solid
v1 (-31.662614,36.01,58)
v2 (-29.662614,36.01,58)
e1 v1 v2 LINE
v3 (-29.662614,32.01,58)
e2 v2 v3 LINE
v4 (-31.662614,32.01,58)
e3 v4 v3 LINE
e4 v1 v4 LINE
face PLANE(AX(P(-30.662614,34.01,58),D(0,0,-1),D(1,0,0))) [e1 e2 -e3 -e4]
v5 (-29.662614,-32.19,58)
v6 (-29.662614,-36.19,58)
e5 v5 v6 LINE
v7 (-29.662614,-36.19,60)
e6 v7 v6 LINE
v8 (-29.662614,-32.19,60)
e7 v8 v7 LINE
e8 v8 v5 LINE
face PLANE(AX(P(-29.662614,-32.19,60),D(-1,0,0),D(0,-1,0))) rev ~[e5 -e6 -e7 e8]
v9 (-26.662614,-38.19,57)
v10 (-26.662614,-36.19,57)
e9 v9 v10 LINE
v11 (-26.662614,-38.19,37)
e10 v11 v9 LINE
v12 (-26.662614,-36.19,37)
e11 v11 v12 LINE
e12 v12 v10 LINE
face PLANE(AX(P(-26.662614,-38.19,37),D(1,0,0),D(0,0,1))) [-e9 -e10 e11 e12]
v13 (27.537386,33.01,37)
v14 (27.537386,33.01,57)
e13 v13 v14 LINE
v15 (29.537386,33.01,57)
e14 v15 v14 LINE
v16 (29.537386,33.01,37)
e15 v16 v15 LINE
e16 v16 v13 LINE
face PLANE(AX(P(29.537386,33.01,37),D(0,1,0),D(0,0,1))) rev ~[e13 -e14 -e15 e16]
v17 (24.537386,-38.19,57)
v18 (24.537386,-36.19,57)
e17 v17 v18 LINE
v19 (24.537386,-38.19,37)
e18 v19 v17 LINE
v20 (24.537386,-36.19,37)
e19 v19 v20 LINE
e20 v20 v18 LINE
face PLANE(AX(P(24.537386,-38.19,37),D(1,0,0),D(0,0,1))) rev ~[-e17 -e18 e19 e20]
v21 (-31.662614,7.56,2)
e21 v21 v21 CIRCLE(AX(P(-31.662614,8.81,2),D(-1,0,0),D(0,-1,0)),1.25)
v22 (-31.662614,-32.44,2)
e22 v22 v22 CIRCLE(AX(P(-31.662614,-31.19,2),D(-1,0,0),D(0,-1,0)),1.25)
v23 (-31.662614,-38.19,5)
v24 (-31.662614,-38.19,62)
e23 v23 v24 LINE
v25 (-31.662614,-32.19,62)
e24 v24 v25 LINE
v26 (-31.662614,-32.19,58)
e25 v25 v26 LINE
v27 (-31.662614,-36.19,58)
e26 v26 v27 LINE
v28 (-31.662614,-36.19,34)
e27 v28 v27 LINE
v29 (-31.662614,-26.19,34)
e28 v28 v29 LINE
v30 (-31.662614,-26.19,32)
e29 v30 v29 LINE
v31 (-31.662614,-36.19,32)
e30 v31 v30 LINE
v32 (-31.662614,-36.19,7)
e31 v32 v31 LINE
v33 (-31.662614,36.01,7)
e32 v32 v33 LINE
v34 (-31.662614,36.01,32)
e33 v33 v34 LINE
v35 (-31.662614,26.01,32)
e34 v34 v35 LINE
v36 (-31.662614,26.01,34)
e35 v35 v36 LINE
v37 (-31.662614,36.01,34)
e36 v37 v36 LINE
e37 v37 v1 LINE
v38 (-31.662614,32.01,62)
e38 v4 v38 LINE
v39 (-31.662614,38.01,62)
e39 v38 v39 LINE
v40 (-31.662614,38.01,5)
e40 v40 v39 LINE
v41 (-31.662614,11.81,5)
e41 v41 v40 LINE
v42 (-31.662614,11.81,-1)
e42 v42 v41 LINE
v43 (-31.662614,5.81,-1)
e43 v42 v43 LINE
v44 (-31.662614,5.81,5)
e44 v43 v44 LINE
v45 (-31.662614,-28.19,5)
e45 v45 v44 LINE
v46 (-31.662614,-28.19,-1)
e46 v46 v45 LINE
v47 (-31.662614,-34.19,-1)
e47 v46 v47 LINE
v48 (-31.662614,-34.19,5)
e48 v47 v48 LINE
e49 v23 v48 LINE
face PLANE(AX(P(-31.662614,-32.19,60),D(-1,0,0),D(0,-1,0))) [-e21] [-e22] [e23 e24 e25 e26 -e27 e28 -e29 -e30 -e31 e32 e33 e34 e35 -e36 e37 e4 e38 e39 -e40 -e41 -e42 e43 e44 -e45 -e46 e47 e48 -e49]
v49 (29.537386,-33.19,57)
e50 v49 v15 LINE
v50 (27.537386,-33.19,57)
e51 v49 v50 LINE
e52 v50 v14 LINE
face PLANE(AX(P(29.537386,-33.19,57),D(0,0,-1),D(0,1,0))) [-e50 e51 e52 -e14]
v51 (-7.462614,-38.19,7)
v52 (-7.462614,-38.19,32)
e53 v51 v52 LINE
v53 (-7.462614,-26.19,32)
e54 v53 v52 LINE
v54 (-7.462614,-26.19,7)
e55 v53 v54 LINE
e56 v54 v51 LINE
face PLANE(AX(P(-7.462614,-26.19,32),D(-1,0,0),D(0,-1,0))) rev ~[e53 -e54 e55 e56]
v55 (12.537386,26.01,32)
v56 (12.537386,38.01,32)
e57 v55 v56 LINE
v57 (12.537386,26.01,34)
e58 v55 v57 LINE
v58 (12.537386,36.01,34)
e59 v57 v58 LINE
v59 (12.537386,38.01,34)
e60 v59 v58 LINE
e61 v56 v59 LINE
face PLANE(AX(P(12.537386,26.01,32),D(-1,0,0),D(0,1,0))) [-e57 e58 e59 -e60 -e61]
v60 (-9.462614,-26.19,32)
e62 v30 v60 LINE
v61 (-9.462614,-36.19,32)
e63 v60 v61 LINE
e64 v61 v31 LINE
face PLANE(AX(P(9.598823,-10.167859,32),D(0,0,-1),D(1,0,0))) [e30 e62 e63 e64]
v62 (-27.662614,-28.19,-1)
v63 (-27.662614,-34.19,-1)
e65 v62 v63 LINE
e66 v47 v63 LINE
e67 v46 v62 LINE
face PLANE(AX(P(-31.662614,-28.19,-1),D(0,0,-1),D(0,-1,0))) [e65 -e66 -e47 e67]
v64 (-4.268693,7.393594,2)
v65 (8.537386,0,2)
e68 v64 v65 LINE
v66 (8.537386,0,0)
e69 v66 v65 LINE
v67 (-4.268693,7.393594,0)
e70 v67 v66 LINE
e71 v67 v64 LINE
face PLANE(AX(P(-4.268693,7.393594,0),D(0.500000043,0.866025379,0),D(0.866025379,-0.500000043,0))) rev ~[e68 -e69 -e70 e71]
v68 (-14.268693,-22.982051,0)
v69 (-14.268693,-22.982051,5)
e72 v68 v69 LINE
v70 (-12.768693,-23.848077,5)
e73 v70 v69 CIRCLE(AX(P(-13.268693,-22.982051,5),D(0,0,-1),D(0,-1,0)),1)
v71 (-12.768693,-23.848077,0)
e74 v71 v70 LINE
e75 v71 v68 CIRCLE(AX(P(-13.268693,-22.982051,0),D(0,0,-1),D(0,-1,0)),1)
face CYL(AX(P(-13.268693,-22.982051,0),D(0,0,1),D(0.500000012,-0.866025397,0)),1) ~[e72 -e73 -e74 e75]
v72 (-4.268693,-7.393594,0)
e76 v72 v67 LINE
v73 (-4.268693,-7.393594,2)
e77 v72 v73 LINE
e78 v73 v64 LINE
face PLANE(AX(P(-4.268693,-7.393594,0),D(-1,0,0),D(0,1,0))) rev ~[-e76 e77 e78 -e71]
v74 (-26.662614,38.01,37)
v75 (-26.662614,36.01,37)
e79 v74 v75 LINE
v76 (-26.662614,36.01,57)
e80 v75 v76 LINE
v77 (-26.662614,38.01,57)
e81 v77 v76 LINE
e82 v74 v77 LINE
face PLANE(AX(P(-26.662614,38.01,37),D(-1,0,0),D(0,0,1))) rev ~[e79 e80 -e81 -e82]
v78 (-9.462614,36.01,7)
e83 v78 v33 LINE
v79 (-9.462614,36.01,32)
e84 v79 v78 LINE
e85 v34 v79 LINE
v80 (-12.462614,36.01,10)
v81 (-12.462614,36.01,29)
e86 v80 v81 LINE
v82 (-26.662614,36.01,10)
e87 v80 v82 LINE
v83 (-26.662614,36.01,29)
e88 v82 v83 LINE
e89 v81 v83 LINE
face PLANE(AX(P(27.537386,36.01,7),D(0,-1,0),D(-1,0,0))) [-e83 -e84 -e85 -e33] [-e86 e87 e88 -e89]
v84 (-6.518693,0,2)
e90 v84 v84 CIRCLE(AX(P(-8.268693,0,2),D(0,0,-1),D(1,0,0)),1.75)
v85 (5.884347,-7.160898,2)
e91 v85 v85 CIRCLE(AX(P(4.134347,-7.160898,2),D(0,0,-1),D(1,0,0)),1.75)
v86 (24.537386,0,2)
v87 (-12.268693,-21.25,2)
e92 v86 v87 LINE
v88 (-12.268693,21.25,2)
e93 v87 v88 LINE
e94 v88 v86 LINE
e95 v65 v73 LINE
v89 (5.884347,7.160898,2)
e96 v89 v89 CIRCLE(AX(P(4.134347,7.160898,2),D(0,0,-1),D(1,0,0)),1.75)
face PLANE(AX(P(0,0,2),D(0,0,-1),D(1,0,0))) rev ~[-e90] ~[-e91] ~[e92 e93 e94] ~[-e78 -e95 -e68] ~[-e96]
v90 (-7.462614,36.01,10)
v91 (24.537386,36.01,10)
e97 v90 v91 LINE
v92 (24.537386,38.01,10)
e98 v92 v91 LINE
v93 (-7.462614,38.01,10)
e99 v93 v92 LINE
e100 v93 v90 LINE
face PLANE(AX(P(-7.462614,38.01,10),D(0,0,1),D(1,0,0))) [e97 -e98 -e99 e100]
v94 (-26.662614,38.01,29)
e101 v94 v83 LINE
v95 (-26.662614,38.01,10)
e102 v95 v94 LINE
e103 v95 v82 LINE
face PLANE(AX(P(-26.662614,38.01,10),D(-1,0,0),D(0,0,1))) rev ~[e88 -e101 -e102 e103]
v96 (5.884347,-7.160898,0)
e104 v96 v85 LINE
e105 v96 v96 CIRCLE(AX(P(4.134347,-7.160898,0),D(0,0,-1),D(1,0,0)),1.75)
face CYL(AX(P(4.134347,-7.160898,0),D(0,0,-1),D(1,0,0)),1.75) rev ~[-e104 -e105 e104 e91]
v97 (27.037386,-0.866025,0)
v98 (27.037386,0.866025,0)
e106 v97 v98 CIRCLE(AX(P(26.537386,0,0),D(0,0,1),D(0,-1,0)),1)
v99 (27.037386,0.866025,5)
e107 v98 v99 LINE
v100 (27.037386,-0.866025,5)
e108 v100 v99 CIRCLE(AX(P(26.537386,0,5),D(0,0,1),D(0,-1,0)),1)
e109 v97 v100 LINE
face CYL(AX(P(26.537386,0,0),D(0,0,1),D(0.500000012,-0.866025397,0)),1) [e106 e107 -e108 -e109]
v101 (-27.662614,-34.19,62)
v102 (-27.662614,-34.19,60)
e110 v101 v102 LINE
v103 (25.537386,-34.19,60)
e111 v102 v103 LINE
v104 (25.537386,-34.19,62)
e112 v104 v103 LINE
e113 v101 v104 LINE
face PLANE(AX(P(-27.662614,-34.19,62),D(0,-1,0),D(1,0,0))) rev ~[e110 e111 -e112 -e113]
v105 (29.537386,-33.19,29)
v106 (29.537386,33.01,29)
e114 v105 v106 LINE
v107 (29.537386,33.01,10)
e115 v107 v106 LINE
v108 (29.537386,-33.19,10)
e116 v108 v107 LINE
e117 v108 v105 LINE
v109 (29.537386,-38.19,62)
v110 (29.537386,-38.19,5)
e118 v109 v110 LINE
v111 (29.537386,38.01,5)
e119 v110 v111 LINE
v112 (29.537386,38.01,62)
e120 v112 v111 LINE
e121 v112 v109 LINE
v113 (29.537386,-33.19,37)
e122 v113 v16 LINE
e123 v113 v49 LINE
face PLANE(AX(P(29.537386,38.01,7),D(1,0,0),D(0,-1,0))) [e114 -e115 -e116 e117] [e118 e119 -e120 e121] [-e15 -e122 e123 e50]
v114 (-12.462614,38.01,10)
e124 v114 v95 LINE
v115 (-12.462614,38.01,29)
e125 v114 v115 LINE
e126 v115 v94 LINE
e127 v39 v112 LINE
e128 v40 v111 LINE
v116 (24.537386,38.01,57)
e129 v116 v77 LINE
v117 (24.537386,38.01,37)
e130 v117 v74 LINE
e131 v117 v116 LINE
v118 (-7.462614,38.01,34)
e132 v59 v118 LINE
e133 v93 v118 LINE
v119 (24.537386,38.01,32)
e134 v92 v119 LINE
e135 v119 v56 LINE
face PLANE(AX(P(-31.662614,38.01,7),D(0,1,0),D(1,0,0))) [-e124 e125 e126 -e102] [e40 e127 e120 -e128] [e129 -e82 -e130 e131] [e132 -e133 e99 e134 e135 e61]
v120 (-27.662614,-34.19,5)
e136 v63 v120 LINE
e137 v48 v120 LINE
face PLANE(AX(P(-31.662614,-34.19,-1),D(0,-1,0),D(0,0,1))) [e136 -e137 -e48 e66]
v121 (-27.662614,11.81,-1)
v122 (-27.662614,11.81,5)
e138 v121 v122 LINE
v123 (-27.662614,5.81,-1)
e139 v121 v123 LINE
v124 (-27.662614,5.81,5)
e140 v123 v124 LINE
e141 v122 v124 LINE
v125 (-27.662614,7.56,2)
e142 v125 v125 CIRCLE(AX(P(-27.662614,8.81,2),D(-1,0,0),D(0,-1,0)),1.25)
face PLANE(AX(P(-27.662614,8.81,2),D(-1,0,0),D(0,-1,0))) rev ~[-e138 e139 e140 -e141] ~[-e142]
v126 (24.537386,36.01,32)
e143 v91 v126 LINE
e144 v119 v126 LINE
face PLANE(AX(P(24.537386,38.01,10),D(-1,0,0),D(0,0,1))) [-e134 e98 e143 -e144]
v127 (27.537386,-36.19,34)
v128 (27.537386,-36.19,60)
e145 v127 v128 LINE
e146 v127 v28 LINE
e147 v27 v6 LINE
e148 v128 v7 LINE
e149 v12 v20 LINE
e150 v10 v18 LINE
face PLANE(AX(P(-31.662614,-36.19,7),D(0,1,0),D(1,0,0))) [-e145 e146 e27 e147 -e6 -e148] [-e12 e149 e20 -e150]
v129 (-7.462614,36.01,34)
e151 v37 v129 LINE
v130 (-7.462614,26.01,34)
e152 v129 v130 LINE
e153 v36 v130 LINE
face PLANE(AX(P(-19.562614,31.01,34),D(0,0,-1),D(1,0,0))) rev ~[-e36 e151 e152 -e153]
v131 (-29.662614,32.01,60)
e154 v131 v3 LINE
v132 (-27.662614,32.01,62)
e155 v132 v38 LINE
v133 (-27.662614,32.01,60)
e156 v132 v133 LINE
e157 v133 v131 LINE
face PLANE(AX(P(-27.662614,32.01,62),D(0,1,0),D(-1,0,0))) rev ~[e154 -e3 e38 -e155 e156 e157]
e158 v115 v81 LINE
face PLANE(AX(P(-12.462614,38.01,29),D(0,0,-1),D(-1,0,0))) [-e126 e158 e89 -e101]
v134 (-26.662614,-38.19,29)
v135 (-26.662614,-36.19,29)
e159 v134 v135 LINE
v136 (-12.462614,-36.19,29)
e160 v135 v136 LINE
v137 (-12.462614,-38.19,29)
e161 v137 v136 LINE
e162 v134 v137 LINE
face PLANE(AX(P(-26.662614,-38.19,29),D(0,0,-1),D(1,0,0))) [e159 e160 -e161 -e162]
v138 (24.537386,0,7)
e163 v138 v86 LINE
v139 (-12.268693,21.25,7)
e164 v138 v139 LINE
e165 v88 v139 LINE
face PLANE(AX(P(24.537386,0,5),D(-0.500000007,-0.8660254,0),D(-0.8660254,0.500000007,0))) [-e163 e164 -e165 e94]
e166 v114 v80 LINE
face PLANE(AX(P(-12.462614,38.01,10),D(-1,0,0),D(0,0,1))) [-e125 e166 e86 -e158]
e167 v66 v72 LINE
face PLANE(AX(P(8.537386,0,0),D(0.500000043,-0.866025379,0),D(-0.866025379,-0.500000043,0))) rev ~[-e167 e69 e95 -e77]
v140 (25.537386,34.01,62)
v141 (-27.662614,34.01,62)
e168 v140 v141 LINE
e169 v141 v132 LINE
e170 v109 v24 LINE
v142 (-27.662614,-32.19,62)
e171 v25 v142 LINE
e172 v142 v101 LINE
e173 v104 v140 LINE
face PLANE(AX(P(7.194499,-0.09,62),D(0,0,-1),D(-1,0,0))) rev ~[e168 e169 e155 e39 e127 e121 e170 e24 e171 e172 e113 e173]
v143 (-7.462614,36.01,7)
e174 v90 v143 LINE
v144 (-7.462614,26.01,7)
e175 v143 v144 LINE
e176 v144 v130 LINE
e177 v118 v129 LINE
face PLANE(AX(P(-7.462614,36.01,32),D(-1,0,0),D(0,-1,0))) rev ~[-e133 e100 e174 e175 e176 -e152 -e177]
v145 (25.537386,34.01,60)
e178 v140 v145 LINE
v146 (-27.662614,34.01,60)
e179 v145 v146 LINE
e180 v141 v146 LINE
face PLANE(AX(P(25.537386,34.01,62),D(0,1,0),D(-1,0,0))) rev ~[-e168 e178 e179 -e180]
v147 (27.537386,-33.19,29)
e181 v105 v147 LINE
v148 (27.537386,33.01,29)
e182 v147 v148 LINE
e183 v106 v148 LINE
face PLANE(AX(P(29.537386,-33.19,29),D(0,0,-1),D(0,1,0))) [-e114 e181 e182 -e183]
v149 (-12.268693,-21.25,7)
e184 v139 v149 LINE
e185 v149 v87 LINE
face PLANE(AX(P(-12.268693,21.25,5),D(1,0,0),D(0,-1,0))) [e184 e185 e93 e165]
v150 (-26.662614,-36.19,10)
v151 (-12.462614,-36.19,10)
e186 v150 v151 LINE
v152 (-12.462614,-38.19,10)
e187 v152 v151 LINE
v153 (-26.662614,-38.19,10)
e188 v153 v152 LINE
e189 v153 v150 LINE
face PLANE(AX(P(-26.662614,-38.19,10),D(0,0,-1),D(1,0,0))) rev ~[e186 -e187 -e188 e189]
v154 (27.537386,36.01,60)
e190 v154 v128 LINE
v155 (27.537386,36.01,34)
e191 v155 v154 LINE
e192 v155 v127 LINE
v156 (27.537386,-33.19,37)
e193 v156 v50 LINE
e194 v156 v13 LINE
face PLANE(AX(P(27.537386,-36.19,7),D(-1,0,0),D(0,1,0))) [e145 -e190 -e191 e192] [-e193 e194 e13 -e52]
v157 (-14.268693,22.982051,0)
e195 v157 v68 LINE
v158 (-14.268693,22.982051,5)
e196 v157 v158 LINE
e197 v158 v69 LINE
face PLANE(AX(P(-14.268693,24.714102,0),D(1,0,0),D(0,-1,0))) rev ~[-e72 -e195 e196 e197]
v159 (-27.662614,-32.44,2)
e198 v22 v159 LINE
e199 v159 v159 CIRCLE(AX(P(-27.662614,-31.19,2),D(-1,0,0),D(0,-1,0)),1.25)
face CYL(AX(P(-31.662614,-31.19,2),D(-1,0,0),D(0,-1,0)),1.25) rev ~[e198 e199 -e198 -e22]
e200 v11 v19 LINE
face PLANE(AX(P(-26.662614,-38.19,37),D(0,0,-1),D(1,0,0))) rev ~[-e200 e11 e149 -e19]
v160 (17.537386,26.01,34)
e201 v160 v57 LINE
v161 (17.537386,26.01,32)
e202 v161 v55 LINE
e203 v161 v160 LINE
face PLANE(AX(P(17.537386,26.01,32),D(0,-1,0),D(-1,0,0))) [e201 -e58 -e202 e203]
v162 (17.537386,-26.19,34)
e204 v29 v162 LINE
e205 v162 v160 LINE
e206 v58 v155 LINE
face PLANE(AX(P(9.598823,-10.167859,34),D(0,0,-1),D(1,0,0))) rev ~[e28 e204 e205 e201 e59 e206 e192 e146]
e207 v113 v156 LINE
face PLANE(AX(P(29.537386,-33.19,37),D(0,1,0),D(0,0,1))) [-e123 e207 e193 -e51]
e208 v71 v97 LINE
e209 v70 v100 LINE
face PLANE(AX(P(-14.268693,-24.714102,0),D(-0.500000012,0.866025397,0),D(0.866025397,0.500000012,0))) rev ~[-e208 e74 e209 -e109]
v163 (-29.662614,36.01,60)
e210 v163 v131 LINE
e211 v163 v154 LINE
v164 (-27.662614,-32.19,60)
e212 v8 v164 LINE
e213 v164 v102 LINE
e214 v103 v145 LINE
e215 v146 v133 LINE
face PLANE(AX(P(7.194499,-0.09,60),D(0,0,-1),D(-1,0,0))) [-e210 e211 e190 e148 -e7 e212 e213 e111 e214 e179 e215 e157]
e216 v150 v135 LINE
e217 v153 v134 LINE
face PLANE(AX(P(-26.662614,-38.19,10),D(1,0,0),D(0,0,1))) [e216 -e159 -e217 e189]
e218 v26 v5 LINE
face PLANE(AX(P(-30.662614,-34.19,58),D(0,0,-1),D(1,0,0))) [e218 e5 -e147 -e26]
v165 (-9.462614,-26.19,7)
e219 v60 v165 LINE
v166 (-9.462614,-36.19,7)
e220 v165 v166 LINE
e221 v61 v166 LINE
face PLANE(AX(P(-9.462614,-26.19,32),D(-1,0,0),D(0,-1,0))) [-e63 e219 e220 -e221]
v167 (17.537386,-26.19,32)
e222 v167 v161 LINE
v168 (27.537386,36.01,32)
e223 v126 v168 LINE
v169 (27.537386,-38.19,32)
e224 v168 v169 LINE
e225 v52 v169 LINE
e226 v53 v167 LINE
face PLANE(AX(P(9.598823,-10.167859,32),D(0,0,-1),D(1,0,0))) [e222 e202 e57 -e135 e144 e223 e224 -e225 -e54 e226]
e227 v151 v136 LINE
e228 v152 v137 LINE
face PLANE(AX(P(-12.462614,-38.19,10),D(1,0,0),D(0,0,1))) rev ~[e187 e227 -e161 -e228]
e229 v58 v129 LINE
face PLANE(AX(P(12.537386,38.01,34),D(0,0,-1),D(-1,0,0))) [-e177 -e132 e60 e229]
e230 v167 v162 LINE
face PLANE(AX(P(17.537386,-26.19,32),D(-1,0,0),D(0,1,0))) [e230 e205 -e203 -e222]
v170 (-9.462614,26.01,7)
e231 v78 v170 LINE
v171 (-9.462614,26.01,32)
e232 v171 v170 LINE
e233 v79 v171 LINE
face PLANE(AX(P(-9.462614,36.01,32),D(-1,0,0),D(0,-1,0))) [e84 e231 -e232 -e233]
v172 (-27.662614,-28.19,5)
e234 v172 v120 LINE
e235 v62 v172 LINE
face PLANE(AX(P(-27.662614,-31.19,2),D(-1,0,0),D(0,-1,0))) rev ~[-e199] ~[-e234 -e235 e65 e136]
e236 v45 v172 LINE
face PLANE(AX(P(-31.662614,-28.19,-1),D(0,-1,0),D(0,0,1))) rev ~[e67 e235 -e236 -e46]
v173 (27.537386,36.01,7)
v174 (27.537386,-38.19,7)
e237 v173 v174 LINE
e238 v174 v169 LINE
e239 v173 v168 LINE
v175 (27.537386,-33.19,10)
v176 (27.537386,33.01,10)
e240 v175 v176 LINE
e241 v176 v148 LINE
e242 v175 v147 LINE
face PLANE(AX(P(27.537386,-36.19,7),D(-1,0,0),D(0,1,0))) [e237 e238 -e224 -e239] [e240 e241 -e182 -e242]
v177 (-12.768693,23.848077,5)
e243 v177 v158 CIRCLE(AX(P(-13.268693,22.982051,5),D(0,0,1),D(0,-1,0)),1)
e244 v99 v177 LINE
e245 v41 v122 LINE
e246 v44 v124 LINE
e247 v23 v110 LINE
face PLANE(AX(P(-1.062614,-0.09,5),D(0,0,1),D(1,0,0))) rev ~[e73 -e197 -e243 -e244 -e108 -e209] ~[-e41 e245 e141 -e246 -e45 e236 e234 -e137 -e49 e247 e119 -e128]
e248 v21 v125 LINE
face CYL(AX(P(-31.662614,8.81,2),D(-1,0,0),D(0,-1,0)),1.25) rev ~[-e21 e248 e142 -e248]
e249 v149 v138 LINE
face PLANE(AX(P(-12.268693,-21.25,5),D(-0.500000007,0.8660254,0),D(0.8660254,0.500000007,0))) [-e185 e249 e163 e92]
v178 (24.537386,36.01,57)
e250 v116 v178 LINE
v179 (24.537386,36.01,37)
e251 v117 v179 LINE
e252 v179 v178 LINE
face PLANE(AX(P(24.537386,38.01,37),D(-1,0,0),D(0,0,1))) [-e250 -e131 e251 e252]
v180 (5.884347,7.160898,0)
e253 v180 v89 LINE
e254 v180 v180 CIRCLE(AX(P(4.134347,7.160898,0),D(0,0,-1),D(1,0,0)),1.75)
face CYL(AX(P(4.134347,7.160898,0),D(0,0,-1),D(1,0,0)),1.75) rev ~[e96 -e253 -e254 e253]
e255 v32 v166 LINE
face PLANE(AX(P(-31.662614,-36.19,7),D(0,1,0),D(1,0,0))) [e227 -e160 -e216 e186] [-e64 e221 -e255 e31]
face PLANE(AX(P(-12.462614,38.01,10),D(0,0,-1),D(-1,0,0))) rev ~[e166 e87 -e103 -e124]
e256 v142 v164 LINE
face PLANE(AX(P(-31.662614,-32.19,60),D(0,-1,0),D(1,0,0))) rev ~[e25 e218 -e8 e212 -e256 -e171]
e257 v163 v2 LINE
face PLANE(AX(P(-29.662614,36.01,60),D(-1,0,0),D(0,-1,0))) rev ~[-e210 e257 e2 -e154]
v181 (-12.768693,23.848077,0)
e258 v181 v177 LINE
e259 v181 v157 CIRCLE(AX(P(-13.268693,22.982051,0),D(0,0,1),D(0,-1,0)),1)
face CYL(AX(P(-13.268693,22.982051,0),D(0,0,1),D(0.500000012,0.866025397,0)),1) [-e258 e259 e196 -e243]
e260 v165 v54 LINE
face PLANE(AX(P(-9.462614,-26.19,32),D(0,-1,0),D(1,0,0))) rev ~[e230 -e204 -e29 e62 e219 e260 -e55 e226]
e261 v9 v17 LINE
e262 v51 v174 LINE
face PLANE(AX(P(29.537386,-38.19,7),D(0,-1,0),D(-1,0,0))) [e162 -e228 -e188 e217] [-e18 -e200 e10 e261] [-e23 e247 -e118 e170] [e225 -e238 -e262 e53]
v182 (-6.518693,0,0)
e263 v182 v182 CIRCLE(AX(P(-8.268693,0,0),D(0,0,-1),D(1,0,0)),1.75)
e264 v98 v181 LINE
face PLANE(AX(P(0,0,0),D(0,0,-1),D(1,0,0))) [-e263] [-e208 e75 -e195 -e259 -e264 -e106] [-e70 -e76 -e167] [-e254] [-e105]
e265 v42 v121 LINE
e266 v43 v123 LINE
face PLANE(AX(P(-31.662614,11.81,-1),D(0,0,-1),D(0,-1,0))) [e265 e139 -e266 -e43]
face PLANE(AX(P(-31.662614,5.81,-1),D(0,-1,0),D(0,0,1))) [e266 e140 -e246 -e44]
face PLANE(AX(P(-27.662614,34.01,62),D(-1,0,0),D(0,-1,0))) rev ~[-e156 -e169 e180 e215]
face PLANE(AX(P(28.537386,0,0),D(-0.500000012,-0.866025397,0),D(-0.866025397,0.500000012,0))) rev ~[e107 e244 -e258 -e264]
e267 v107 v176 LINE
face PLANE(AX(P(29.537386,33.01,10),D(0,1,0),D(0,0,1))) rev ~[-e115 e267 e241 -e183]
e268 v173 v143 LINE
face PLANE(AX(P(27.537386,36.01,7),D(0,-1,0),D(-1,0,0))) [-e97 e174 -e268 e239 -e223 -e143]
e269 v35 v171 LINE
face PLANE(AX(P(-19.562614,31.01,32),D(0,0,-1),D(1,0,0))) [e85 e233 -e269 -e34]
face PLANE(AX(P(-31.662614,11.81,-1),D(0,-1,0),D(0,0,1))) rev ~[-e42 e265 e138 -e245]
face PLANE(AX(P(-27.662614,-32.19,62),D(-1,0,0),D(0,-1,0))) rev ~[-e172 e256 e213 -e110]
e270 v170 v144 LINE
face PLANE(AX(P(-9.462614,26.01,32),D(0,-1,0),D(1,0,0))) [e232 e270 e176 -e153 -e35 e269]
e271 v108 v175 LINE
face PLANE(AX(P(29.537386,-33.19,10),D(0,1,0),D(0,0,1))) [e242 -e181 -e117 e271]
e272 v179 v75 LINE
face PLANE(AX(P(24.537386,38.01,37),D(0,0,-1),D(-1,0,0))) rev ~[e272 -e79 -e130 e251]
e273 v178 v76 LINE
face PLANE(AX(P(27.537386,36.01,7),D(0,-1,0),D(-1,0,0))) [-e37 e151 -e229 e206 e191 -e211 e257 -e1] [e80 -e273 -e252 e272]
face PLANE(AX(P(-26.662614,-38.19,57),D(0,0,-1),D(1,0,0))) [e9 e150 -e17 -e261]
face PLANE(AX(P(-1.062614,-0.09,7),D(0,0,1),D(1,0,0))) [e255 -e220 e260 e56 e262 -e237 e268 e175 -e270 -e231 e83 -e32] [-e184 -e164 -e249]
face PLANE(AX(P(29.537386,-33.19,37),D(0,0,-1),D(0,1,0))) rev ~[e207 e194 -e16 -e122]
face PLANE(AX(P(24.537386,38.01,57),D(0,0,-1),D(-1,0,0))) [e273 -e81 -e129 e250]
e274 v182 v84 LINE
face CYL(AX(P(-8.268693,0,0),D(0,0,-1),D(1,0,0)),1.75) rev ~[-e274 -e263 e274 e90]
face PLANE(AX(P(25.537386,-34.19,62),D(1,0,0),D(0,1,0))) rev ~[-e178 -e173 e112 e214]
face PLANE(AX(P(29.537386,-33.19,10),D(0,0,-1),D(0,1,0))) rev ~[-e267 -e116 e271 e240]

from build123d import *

# Parameters (mm, degrees)
PAD_DEPTH       = 5
FILLET_R        = 1
FILLET001_R     = 1
FILLET002_R     = 1
SKETCH001_R     = 1.75
PAD001_DEPTH    = 2
SKETCH002_W     = 61.2
SKETCH002_H     = 76.2
PAD002_DEPTH    = 2
PAD003_DEPTH    = 55
SKETCH004_W     = 35
SKETCH004_H     = 25
SKETCH004_W_2   = 14.2
SKETCH004_H_2   = 19
SKETCH004_W_3   = 51.2
SKETCH004_H_3   = 20
POCKET_DEPTH    = 2
SKETCH005_W     = 14.2
SKETCH005_H     = 19
SKETCH005_W_2   = 51.2
SKETCH005_H_2   = 20
POCKET001_DEPTH = 2
SKETCH006_W     = 66.2
SKETCH006_H     = 19
SKETCH006_H_2   = 20
POCKET002_DEPTH = 2
SKETCH007_W     = 24.2
SKETCH007_H     = 10
PAD004_DEPTH    = 2
SKETCH008_W     = 2
SKETCH008_H     = 10
PAD005_DEPTH    = 25
PAD006_DEPTH    = 2
SKETCH010_W     = 2
SKETCH010_H     = 4
PAD007_DEPTH    = 2
SKETCH011_W     = 6
SKETCH011_H     = 6
SKETCH011_R     = 1.25
PAD008_DEPTH    = 4


with BuildPart() as part:
    # Sketch → Pad (new body)
    with BuildSketch(Plane.XY):
        Polygon((28.537386, 0), (-14.268693, 24.714102), (-14.268693, -24.714102), align=None)
        Polygon((24.537386, 0), (-12.268693, 21.25), (-12.268693, -21.25), align=None, mode=Mode.SUBTRACT)
    extrude(amount=PAD_DEPTH)

    # Fillet
    fillet_edges = [part.edges().sort_by_distance(p)[0] for p in [
        (-14.268693, -24.714102, 2.5),
    ]]
    fillet(fillet_edges, radius=FILLET_R)

    # Fillet001
    fillet001_edges = [part.edges().sort_by_distance(p)[0] for p in [
        (28.537386, 0, 2.5),
    ]]
    fillet(fillet001_edges, radius=FILLET001_R)

    # Fillet002
    fillet002_edges = [part.edges().sort_by_distance(p)[0] for p in [
        (-14.268693, 24.714102, 2.5),
    ]]
    fillet(fillet002_edges, radius=FILLET002_R)

    # Sketch001 (on Face1 of Fillet002) → Pad001 (join)
    with BuildSketch(Plane(origin=(0, 0, 0), x_dir=(1, 0, 0), z_dir=(0, 0, -1))):
        Polygon((24.537386, 0), (-12.268693, 21.25), (-12.268693, -21.25), align=None)
        with Locations((4.134347, 7.160898)):
            Circle(SKETCH001_R, mode=Mode.SUBTRACT)
        with Locations((4.134347, -7.160898)):
            Circle(SKETCH001_R, mode=Mode.SUBTRACT)
        with Locations((-8.268693, 0)):
            Circle(SKETCH001_R, mode=Mode.SUBTRACT)
        Polygon((8.537386, 0), (-4.268693, 7.393594), (-4.268693, -7.393594), align=None, mode=Mode.SUBTRACT)
    extrude(amount=-PAD001_DEPTH)

    # Sketch002 (on Face9 of Pad001) → Pad002 (join)
    with BuildSketch(Plane.XY.offset(5)):
        with Locations((-1.062614, -0.09)):
            Rectangle(SKETCH002_W, SKETCH002_H)
        Polygon((-12.268693, 21.25), (-12.268693, -21.25), (24.537386, 0), align=None, mode=Mode.SUBTRACT)
    extrude(amount=PAD002_DEPTH)

    # Sketch003 (on Face21 of Pad002) → Pad003 (join)
    with BuildSketch(Plane.XY.offset(7)):
        Polygon((-31.662614, 38.01), (29.537386, 38.01), (29.537386, -38.19), (-31.662614, -38.19), (-31.662614, -36.19), (27.537386, -36.19), (27.537386, 36.01), (-31.662614, 36.01), align=None)
    extrude(amount=PAD003_DEPTH)

    # Sketch004 (on Face26 of Pad003) → Pocket (cut)
    with BuildSketch(Plane.XZ.offset(38.19)):
        with Locations((10.037386, 19.5)):
            Rectangle(SKETCH004_W, SKETCH004_H)
        with Locations((-19.562614, 19.5)):
            Rectangle(SKETCH004_W_2, SKETCH004_H_2)
        with Locations((-1.062614, 47)):
            Rectangle(SKETCH004_W_3, SKETCH004_H_3)
    extrude(amount=-POCKET_DEPTH, mode=Mode.SUBTRACT)

    # Sketch005 (on Face21 of Pocket) → Pocket001 (cut)
    with BuildSketch(Plane(origin=(0, 38.01, 0), x_dir=(-1, 0, 0), z_dir=(0, 1, 0))):
        Polygon((-24.537386, 32), (-12.537386, 32), (-12.537386, 34), (7.462614, 34), (7.462614, 32), (7.462614, 10), (-24.537386, 10), align=None)
        with Locations((19.562614, 19.5)):
            Rectangle(SKETCH005_W, SKETCH005_H)
        with Locations((1.062614, 47)):
            Rectangle(SKETCH005_W_2, SKETCH005_H_2)
    extrude(amount=-POCKET001_DEPTH, mode=Mode.SUBTRACT)

    # Sketch006 (on Face25 of Pocket001) → Pocket002 (cut)
    with BuildSketch(Plane.YZ.offset(29.537386)):
        with Locations((-0.09, 19.5)):
            Rectangle(SKETCH006_W, SKETCH006_H)
        with Locations((-0.09, 47)):
            Rectangle(SKETCH006_W, SKETCH006_H_2)
    extrude(amount=-POCKET002_DEPTH, mode=Mode.SUBTRACT)

    # Sketch007 (on Face62 of Pocket002) → Pad004 (join)
    with BuildSketch(Plane(origin=(0, 0, 32), x_dir=(1, 0, 0), z_dir=(0, 0, -1))):
        Polygon((-31.662614, 36.19), (-31.662614, 26.19), (17.537386, 26.19), (17.537386, -26.01), (12.537386, -26.01), (12.537386, -36.01), (27.537386, -36.01), (27.537386, 36.19), align=None)
        with Locations((-19.562614, -31.01)):
            Rectangle(SKETCH007_W, SKETCH007_H)
    extrude(amount=-PAD004_DEPTH)

    # Sketch008 (on Face79 of Pad004) → Pad005 (join)
    with BuildSketch(Plane(origin=(0, 0, 32), x_dir=(1, 0, 0), z_dir=(0, 0, -1))):
        with Locations((-8.462614, 31.19)):
            Rectangle(SKETCH008_W, SKETCH008_H)
        with Locations((-8.462614, -31.01)):
            Rectangle(SKETCH008_W, SKETCH008_H)
    extrude(amount=PAD005_DEPTH)

    # Sketch009 (on Face31 of Pad005) → Pad006 (join)
    with BuildSketch(Plane.XY.offset(62)):
        Polygon((-31.662614, 36.01), (27.537386, 36.01), (27.537386, -36.19), (-31.662614, -36.19), (-31.662614, -32.19), (-27.662614, -32.19), (-27.662614, -34.19), (25.537386, -34.19), (25.537386, 34.01), (-27.662614, 34.01), (-27.662614, 32.01), (-31.662614, 32.01), align=None)
    extrude(amount=-PAD006_DEPTH)

    # Sketch010 (on Face92 of Pad006) → Pad007 (join)
    with BuildSketch(Plane(origin=(0, 0, 60), x_dir=(1, 0, 0), z_dir=(0, 0, -1))):
        with Locations((-30.662614, 34.19)):
            Rectangle(SKETCH010_W, SKETCH010_H)
        with Locations((-30.662614, -34.01)):
            Rectangle(SKETCH010_W, SKETCH010_H)
    extrude(amount=PAD007_DEPTH)

    # Sketch011 (on Face17 of Pad007) → Pad008 (join)
    with BuildSketch(Plane(origin=(-31.662614, 0, 0), x_dir=(0, -1, 0), z_dir=(-1, 0, 0))):
        with Locations((-8.81, 2)):
            Rectangle(SKETCH011_W, SKETCH011_H)
        with Locations((-8.81, 2)):
            Circle(SKETCH011_R, mode=Mode.SUBTRACT)
        with Locations((31.19, 2)):
            Rectangle(SKETCH011_W, SKETCH011_H)
        with Locations((31.19, 2)):
            Circle(SKETCH011_R, mode=Mode.SUBTRACT)
    extrude(amount=-PAD008_DEPTH)


solid = part.part
